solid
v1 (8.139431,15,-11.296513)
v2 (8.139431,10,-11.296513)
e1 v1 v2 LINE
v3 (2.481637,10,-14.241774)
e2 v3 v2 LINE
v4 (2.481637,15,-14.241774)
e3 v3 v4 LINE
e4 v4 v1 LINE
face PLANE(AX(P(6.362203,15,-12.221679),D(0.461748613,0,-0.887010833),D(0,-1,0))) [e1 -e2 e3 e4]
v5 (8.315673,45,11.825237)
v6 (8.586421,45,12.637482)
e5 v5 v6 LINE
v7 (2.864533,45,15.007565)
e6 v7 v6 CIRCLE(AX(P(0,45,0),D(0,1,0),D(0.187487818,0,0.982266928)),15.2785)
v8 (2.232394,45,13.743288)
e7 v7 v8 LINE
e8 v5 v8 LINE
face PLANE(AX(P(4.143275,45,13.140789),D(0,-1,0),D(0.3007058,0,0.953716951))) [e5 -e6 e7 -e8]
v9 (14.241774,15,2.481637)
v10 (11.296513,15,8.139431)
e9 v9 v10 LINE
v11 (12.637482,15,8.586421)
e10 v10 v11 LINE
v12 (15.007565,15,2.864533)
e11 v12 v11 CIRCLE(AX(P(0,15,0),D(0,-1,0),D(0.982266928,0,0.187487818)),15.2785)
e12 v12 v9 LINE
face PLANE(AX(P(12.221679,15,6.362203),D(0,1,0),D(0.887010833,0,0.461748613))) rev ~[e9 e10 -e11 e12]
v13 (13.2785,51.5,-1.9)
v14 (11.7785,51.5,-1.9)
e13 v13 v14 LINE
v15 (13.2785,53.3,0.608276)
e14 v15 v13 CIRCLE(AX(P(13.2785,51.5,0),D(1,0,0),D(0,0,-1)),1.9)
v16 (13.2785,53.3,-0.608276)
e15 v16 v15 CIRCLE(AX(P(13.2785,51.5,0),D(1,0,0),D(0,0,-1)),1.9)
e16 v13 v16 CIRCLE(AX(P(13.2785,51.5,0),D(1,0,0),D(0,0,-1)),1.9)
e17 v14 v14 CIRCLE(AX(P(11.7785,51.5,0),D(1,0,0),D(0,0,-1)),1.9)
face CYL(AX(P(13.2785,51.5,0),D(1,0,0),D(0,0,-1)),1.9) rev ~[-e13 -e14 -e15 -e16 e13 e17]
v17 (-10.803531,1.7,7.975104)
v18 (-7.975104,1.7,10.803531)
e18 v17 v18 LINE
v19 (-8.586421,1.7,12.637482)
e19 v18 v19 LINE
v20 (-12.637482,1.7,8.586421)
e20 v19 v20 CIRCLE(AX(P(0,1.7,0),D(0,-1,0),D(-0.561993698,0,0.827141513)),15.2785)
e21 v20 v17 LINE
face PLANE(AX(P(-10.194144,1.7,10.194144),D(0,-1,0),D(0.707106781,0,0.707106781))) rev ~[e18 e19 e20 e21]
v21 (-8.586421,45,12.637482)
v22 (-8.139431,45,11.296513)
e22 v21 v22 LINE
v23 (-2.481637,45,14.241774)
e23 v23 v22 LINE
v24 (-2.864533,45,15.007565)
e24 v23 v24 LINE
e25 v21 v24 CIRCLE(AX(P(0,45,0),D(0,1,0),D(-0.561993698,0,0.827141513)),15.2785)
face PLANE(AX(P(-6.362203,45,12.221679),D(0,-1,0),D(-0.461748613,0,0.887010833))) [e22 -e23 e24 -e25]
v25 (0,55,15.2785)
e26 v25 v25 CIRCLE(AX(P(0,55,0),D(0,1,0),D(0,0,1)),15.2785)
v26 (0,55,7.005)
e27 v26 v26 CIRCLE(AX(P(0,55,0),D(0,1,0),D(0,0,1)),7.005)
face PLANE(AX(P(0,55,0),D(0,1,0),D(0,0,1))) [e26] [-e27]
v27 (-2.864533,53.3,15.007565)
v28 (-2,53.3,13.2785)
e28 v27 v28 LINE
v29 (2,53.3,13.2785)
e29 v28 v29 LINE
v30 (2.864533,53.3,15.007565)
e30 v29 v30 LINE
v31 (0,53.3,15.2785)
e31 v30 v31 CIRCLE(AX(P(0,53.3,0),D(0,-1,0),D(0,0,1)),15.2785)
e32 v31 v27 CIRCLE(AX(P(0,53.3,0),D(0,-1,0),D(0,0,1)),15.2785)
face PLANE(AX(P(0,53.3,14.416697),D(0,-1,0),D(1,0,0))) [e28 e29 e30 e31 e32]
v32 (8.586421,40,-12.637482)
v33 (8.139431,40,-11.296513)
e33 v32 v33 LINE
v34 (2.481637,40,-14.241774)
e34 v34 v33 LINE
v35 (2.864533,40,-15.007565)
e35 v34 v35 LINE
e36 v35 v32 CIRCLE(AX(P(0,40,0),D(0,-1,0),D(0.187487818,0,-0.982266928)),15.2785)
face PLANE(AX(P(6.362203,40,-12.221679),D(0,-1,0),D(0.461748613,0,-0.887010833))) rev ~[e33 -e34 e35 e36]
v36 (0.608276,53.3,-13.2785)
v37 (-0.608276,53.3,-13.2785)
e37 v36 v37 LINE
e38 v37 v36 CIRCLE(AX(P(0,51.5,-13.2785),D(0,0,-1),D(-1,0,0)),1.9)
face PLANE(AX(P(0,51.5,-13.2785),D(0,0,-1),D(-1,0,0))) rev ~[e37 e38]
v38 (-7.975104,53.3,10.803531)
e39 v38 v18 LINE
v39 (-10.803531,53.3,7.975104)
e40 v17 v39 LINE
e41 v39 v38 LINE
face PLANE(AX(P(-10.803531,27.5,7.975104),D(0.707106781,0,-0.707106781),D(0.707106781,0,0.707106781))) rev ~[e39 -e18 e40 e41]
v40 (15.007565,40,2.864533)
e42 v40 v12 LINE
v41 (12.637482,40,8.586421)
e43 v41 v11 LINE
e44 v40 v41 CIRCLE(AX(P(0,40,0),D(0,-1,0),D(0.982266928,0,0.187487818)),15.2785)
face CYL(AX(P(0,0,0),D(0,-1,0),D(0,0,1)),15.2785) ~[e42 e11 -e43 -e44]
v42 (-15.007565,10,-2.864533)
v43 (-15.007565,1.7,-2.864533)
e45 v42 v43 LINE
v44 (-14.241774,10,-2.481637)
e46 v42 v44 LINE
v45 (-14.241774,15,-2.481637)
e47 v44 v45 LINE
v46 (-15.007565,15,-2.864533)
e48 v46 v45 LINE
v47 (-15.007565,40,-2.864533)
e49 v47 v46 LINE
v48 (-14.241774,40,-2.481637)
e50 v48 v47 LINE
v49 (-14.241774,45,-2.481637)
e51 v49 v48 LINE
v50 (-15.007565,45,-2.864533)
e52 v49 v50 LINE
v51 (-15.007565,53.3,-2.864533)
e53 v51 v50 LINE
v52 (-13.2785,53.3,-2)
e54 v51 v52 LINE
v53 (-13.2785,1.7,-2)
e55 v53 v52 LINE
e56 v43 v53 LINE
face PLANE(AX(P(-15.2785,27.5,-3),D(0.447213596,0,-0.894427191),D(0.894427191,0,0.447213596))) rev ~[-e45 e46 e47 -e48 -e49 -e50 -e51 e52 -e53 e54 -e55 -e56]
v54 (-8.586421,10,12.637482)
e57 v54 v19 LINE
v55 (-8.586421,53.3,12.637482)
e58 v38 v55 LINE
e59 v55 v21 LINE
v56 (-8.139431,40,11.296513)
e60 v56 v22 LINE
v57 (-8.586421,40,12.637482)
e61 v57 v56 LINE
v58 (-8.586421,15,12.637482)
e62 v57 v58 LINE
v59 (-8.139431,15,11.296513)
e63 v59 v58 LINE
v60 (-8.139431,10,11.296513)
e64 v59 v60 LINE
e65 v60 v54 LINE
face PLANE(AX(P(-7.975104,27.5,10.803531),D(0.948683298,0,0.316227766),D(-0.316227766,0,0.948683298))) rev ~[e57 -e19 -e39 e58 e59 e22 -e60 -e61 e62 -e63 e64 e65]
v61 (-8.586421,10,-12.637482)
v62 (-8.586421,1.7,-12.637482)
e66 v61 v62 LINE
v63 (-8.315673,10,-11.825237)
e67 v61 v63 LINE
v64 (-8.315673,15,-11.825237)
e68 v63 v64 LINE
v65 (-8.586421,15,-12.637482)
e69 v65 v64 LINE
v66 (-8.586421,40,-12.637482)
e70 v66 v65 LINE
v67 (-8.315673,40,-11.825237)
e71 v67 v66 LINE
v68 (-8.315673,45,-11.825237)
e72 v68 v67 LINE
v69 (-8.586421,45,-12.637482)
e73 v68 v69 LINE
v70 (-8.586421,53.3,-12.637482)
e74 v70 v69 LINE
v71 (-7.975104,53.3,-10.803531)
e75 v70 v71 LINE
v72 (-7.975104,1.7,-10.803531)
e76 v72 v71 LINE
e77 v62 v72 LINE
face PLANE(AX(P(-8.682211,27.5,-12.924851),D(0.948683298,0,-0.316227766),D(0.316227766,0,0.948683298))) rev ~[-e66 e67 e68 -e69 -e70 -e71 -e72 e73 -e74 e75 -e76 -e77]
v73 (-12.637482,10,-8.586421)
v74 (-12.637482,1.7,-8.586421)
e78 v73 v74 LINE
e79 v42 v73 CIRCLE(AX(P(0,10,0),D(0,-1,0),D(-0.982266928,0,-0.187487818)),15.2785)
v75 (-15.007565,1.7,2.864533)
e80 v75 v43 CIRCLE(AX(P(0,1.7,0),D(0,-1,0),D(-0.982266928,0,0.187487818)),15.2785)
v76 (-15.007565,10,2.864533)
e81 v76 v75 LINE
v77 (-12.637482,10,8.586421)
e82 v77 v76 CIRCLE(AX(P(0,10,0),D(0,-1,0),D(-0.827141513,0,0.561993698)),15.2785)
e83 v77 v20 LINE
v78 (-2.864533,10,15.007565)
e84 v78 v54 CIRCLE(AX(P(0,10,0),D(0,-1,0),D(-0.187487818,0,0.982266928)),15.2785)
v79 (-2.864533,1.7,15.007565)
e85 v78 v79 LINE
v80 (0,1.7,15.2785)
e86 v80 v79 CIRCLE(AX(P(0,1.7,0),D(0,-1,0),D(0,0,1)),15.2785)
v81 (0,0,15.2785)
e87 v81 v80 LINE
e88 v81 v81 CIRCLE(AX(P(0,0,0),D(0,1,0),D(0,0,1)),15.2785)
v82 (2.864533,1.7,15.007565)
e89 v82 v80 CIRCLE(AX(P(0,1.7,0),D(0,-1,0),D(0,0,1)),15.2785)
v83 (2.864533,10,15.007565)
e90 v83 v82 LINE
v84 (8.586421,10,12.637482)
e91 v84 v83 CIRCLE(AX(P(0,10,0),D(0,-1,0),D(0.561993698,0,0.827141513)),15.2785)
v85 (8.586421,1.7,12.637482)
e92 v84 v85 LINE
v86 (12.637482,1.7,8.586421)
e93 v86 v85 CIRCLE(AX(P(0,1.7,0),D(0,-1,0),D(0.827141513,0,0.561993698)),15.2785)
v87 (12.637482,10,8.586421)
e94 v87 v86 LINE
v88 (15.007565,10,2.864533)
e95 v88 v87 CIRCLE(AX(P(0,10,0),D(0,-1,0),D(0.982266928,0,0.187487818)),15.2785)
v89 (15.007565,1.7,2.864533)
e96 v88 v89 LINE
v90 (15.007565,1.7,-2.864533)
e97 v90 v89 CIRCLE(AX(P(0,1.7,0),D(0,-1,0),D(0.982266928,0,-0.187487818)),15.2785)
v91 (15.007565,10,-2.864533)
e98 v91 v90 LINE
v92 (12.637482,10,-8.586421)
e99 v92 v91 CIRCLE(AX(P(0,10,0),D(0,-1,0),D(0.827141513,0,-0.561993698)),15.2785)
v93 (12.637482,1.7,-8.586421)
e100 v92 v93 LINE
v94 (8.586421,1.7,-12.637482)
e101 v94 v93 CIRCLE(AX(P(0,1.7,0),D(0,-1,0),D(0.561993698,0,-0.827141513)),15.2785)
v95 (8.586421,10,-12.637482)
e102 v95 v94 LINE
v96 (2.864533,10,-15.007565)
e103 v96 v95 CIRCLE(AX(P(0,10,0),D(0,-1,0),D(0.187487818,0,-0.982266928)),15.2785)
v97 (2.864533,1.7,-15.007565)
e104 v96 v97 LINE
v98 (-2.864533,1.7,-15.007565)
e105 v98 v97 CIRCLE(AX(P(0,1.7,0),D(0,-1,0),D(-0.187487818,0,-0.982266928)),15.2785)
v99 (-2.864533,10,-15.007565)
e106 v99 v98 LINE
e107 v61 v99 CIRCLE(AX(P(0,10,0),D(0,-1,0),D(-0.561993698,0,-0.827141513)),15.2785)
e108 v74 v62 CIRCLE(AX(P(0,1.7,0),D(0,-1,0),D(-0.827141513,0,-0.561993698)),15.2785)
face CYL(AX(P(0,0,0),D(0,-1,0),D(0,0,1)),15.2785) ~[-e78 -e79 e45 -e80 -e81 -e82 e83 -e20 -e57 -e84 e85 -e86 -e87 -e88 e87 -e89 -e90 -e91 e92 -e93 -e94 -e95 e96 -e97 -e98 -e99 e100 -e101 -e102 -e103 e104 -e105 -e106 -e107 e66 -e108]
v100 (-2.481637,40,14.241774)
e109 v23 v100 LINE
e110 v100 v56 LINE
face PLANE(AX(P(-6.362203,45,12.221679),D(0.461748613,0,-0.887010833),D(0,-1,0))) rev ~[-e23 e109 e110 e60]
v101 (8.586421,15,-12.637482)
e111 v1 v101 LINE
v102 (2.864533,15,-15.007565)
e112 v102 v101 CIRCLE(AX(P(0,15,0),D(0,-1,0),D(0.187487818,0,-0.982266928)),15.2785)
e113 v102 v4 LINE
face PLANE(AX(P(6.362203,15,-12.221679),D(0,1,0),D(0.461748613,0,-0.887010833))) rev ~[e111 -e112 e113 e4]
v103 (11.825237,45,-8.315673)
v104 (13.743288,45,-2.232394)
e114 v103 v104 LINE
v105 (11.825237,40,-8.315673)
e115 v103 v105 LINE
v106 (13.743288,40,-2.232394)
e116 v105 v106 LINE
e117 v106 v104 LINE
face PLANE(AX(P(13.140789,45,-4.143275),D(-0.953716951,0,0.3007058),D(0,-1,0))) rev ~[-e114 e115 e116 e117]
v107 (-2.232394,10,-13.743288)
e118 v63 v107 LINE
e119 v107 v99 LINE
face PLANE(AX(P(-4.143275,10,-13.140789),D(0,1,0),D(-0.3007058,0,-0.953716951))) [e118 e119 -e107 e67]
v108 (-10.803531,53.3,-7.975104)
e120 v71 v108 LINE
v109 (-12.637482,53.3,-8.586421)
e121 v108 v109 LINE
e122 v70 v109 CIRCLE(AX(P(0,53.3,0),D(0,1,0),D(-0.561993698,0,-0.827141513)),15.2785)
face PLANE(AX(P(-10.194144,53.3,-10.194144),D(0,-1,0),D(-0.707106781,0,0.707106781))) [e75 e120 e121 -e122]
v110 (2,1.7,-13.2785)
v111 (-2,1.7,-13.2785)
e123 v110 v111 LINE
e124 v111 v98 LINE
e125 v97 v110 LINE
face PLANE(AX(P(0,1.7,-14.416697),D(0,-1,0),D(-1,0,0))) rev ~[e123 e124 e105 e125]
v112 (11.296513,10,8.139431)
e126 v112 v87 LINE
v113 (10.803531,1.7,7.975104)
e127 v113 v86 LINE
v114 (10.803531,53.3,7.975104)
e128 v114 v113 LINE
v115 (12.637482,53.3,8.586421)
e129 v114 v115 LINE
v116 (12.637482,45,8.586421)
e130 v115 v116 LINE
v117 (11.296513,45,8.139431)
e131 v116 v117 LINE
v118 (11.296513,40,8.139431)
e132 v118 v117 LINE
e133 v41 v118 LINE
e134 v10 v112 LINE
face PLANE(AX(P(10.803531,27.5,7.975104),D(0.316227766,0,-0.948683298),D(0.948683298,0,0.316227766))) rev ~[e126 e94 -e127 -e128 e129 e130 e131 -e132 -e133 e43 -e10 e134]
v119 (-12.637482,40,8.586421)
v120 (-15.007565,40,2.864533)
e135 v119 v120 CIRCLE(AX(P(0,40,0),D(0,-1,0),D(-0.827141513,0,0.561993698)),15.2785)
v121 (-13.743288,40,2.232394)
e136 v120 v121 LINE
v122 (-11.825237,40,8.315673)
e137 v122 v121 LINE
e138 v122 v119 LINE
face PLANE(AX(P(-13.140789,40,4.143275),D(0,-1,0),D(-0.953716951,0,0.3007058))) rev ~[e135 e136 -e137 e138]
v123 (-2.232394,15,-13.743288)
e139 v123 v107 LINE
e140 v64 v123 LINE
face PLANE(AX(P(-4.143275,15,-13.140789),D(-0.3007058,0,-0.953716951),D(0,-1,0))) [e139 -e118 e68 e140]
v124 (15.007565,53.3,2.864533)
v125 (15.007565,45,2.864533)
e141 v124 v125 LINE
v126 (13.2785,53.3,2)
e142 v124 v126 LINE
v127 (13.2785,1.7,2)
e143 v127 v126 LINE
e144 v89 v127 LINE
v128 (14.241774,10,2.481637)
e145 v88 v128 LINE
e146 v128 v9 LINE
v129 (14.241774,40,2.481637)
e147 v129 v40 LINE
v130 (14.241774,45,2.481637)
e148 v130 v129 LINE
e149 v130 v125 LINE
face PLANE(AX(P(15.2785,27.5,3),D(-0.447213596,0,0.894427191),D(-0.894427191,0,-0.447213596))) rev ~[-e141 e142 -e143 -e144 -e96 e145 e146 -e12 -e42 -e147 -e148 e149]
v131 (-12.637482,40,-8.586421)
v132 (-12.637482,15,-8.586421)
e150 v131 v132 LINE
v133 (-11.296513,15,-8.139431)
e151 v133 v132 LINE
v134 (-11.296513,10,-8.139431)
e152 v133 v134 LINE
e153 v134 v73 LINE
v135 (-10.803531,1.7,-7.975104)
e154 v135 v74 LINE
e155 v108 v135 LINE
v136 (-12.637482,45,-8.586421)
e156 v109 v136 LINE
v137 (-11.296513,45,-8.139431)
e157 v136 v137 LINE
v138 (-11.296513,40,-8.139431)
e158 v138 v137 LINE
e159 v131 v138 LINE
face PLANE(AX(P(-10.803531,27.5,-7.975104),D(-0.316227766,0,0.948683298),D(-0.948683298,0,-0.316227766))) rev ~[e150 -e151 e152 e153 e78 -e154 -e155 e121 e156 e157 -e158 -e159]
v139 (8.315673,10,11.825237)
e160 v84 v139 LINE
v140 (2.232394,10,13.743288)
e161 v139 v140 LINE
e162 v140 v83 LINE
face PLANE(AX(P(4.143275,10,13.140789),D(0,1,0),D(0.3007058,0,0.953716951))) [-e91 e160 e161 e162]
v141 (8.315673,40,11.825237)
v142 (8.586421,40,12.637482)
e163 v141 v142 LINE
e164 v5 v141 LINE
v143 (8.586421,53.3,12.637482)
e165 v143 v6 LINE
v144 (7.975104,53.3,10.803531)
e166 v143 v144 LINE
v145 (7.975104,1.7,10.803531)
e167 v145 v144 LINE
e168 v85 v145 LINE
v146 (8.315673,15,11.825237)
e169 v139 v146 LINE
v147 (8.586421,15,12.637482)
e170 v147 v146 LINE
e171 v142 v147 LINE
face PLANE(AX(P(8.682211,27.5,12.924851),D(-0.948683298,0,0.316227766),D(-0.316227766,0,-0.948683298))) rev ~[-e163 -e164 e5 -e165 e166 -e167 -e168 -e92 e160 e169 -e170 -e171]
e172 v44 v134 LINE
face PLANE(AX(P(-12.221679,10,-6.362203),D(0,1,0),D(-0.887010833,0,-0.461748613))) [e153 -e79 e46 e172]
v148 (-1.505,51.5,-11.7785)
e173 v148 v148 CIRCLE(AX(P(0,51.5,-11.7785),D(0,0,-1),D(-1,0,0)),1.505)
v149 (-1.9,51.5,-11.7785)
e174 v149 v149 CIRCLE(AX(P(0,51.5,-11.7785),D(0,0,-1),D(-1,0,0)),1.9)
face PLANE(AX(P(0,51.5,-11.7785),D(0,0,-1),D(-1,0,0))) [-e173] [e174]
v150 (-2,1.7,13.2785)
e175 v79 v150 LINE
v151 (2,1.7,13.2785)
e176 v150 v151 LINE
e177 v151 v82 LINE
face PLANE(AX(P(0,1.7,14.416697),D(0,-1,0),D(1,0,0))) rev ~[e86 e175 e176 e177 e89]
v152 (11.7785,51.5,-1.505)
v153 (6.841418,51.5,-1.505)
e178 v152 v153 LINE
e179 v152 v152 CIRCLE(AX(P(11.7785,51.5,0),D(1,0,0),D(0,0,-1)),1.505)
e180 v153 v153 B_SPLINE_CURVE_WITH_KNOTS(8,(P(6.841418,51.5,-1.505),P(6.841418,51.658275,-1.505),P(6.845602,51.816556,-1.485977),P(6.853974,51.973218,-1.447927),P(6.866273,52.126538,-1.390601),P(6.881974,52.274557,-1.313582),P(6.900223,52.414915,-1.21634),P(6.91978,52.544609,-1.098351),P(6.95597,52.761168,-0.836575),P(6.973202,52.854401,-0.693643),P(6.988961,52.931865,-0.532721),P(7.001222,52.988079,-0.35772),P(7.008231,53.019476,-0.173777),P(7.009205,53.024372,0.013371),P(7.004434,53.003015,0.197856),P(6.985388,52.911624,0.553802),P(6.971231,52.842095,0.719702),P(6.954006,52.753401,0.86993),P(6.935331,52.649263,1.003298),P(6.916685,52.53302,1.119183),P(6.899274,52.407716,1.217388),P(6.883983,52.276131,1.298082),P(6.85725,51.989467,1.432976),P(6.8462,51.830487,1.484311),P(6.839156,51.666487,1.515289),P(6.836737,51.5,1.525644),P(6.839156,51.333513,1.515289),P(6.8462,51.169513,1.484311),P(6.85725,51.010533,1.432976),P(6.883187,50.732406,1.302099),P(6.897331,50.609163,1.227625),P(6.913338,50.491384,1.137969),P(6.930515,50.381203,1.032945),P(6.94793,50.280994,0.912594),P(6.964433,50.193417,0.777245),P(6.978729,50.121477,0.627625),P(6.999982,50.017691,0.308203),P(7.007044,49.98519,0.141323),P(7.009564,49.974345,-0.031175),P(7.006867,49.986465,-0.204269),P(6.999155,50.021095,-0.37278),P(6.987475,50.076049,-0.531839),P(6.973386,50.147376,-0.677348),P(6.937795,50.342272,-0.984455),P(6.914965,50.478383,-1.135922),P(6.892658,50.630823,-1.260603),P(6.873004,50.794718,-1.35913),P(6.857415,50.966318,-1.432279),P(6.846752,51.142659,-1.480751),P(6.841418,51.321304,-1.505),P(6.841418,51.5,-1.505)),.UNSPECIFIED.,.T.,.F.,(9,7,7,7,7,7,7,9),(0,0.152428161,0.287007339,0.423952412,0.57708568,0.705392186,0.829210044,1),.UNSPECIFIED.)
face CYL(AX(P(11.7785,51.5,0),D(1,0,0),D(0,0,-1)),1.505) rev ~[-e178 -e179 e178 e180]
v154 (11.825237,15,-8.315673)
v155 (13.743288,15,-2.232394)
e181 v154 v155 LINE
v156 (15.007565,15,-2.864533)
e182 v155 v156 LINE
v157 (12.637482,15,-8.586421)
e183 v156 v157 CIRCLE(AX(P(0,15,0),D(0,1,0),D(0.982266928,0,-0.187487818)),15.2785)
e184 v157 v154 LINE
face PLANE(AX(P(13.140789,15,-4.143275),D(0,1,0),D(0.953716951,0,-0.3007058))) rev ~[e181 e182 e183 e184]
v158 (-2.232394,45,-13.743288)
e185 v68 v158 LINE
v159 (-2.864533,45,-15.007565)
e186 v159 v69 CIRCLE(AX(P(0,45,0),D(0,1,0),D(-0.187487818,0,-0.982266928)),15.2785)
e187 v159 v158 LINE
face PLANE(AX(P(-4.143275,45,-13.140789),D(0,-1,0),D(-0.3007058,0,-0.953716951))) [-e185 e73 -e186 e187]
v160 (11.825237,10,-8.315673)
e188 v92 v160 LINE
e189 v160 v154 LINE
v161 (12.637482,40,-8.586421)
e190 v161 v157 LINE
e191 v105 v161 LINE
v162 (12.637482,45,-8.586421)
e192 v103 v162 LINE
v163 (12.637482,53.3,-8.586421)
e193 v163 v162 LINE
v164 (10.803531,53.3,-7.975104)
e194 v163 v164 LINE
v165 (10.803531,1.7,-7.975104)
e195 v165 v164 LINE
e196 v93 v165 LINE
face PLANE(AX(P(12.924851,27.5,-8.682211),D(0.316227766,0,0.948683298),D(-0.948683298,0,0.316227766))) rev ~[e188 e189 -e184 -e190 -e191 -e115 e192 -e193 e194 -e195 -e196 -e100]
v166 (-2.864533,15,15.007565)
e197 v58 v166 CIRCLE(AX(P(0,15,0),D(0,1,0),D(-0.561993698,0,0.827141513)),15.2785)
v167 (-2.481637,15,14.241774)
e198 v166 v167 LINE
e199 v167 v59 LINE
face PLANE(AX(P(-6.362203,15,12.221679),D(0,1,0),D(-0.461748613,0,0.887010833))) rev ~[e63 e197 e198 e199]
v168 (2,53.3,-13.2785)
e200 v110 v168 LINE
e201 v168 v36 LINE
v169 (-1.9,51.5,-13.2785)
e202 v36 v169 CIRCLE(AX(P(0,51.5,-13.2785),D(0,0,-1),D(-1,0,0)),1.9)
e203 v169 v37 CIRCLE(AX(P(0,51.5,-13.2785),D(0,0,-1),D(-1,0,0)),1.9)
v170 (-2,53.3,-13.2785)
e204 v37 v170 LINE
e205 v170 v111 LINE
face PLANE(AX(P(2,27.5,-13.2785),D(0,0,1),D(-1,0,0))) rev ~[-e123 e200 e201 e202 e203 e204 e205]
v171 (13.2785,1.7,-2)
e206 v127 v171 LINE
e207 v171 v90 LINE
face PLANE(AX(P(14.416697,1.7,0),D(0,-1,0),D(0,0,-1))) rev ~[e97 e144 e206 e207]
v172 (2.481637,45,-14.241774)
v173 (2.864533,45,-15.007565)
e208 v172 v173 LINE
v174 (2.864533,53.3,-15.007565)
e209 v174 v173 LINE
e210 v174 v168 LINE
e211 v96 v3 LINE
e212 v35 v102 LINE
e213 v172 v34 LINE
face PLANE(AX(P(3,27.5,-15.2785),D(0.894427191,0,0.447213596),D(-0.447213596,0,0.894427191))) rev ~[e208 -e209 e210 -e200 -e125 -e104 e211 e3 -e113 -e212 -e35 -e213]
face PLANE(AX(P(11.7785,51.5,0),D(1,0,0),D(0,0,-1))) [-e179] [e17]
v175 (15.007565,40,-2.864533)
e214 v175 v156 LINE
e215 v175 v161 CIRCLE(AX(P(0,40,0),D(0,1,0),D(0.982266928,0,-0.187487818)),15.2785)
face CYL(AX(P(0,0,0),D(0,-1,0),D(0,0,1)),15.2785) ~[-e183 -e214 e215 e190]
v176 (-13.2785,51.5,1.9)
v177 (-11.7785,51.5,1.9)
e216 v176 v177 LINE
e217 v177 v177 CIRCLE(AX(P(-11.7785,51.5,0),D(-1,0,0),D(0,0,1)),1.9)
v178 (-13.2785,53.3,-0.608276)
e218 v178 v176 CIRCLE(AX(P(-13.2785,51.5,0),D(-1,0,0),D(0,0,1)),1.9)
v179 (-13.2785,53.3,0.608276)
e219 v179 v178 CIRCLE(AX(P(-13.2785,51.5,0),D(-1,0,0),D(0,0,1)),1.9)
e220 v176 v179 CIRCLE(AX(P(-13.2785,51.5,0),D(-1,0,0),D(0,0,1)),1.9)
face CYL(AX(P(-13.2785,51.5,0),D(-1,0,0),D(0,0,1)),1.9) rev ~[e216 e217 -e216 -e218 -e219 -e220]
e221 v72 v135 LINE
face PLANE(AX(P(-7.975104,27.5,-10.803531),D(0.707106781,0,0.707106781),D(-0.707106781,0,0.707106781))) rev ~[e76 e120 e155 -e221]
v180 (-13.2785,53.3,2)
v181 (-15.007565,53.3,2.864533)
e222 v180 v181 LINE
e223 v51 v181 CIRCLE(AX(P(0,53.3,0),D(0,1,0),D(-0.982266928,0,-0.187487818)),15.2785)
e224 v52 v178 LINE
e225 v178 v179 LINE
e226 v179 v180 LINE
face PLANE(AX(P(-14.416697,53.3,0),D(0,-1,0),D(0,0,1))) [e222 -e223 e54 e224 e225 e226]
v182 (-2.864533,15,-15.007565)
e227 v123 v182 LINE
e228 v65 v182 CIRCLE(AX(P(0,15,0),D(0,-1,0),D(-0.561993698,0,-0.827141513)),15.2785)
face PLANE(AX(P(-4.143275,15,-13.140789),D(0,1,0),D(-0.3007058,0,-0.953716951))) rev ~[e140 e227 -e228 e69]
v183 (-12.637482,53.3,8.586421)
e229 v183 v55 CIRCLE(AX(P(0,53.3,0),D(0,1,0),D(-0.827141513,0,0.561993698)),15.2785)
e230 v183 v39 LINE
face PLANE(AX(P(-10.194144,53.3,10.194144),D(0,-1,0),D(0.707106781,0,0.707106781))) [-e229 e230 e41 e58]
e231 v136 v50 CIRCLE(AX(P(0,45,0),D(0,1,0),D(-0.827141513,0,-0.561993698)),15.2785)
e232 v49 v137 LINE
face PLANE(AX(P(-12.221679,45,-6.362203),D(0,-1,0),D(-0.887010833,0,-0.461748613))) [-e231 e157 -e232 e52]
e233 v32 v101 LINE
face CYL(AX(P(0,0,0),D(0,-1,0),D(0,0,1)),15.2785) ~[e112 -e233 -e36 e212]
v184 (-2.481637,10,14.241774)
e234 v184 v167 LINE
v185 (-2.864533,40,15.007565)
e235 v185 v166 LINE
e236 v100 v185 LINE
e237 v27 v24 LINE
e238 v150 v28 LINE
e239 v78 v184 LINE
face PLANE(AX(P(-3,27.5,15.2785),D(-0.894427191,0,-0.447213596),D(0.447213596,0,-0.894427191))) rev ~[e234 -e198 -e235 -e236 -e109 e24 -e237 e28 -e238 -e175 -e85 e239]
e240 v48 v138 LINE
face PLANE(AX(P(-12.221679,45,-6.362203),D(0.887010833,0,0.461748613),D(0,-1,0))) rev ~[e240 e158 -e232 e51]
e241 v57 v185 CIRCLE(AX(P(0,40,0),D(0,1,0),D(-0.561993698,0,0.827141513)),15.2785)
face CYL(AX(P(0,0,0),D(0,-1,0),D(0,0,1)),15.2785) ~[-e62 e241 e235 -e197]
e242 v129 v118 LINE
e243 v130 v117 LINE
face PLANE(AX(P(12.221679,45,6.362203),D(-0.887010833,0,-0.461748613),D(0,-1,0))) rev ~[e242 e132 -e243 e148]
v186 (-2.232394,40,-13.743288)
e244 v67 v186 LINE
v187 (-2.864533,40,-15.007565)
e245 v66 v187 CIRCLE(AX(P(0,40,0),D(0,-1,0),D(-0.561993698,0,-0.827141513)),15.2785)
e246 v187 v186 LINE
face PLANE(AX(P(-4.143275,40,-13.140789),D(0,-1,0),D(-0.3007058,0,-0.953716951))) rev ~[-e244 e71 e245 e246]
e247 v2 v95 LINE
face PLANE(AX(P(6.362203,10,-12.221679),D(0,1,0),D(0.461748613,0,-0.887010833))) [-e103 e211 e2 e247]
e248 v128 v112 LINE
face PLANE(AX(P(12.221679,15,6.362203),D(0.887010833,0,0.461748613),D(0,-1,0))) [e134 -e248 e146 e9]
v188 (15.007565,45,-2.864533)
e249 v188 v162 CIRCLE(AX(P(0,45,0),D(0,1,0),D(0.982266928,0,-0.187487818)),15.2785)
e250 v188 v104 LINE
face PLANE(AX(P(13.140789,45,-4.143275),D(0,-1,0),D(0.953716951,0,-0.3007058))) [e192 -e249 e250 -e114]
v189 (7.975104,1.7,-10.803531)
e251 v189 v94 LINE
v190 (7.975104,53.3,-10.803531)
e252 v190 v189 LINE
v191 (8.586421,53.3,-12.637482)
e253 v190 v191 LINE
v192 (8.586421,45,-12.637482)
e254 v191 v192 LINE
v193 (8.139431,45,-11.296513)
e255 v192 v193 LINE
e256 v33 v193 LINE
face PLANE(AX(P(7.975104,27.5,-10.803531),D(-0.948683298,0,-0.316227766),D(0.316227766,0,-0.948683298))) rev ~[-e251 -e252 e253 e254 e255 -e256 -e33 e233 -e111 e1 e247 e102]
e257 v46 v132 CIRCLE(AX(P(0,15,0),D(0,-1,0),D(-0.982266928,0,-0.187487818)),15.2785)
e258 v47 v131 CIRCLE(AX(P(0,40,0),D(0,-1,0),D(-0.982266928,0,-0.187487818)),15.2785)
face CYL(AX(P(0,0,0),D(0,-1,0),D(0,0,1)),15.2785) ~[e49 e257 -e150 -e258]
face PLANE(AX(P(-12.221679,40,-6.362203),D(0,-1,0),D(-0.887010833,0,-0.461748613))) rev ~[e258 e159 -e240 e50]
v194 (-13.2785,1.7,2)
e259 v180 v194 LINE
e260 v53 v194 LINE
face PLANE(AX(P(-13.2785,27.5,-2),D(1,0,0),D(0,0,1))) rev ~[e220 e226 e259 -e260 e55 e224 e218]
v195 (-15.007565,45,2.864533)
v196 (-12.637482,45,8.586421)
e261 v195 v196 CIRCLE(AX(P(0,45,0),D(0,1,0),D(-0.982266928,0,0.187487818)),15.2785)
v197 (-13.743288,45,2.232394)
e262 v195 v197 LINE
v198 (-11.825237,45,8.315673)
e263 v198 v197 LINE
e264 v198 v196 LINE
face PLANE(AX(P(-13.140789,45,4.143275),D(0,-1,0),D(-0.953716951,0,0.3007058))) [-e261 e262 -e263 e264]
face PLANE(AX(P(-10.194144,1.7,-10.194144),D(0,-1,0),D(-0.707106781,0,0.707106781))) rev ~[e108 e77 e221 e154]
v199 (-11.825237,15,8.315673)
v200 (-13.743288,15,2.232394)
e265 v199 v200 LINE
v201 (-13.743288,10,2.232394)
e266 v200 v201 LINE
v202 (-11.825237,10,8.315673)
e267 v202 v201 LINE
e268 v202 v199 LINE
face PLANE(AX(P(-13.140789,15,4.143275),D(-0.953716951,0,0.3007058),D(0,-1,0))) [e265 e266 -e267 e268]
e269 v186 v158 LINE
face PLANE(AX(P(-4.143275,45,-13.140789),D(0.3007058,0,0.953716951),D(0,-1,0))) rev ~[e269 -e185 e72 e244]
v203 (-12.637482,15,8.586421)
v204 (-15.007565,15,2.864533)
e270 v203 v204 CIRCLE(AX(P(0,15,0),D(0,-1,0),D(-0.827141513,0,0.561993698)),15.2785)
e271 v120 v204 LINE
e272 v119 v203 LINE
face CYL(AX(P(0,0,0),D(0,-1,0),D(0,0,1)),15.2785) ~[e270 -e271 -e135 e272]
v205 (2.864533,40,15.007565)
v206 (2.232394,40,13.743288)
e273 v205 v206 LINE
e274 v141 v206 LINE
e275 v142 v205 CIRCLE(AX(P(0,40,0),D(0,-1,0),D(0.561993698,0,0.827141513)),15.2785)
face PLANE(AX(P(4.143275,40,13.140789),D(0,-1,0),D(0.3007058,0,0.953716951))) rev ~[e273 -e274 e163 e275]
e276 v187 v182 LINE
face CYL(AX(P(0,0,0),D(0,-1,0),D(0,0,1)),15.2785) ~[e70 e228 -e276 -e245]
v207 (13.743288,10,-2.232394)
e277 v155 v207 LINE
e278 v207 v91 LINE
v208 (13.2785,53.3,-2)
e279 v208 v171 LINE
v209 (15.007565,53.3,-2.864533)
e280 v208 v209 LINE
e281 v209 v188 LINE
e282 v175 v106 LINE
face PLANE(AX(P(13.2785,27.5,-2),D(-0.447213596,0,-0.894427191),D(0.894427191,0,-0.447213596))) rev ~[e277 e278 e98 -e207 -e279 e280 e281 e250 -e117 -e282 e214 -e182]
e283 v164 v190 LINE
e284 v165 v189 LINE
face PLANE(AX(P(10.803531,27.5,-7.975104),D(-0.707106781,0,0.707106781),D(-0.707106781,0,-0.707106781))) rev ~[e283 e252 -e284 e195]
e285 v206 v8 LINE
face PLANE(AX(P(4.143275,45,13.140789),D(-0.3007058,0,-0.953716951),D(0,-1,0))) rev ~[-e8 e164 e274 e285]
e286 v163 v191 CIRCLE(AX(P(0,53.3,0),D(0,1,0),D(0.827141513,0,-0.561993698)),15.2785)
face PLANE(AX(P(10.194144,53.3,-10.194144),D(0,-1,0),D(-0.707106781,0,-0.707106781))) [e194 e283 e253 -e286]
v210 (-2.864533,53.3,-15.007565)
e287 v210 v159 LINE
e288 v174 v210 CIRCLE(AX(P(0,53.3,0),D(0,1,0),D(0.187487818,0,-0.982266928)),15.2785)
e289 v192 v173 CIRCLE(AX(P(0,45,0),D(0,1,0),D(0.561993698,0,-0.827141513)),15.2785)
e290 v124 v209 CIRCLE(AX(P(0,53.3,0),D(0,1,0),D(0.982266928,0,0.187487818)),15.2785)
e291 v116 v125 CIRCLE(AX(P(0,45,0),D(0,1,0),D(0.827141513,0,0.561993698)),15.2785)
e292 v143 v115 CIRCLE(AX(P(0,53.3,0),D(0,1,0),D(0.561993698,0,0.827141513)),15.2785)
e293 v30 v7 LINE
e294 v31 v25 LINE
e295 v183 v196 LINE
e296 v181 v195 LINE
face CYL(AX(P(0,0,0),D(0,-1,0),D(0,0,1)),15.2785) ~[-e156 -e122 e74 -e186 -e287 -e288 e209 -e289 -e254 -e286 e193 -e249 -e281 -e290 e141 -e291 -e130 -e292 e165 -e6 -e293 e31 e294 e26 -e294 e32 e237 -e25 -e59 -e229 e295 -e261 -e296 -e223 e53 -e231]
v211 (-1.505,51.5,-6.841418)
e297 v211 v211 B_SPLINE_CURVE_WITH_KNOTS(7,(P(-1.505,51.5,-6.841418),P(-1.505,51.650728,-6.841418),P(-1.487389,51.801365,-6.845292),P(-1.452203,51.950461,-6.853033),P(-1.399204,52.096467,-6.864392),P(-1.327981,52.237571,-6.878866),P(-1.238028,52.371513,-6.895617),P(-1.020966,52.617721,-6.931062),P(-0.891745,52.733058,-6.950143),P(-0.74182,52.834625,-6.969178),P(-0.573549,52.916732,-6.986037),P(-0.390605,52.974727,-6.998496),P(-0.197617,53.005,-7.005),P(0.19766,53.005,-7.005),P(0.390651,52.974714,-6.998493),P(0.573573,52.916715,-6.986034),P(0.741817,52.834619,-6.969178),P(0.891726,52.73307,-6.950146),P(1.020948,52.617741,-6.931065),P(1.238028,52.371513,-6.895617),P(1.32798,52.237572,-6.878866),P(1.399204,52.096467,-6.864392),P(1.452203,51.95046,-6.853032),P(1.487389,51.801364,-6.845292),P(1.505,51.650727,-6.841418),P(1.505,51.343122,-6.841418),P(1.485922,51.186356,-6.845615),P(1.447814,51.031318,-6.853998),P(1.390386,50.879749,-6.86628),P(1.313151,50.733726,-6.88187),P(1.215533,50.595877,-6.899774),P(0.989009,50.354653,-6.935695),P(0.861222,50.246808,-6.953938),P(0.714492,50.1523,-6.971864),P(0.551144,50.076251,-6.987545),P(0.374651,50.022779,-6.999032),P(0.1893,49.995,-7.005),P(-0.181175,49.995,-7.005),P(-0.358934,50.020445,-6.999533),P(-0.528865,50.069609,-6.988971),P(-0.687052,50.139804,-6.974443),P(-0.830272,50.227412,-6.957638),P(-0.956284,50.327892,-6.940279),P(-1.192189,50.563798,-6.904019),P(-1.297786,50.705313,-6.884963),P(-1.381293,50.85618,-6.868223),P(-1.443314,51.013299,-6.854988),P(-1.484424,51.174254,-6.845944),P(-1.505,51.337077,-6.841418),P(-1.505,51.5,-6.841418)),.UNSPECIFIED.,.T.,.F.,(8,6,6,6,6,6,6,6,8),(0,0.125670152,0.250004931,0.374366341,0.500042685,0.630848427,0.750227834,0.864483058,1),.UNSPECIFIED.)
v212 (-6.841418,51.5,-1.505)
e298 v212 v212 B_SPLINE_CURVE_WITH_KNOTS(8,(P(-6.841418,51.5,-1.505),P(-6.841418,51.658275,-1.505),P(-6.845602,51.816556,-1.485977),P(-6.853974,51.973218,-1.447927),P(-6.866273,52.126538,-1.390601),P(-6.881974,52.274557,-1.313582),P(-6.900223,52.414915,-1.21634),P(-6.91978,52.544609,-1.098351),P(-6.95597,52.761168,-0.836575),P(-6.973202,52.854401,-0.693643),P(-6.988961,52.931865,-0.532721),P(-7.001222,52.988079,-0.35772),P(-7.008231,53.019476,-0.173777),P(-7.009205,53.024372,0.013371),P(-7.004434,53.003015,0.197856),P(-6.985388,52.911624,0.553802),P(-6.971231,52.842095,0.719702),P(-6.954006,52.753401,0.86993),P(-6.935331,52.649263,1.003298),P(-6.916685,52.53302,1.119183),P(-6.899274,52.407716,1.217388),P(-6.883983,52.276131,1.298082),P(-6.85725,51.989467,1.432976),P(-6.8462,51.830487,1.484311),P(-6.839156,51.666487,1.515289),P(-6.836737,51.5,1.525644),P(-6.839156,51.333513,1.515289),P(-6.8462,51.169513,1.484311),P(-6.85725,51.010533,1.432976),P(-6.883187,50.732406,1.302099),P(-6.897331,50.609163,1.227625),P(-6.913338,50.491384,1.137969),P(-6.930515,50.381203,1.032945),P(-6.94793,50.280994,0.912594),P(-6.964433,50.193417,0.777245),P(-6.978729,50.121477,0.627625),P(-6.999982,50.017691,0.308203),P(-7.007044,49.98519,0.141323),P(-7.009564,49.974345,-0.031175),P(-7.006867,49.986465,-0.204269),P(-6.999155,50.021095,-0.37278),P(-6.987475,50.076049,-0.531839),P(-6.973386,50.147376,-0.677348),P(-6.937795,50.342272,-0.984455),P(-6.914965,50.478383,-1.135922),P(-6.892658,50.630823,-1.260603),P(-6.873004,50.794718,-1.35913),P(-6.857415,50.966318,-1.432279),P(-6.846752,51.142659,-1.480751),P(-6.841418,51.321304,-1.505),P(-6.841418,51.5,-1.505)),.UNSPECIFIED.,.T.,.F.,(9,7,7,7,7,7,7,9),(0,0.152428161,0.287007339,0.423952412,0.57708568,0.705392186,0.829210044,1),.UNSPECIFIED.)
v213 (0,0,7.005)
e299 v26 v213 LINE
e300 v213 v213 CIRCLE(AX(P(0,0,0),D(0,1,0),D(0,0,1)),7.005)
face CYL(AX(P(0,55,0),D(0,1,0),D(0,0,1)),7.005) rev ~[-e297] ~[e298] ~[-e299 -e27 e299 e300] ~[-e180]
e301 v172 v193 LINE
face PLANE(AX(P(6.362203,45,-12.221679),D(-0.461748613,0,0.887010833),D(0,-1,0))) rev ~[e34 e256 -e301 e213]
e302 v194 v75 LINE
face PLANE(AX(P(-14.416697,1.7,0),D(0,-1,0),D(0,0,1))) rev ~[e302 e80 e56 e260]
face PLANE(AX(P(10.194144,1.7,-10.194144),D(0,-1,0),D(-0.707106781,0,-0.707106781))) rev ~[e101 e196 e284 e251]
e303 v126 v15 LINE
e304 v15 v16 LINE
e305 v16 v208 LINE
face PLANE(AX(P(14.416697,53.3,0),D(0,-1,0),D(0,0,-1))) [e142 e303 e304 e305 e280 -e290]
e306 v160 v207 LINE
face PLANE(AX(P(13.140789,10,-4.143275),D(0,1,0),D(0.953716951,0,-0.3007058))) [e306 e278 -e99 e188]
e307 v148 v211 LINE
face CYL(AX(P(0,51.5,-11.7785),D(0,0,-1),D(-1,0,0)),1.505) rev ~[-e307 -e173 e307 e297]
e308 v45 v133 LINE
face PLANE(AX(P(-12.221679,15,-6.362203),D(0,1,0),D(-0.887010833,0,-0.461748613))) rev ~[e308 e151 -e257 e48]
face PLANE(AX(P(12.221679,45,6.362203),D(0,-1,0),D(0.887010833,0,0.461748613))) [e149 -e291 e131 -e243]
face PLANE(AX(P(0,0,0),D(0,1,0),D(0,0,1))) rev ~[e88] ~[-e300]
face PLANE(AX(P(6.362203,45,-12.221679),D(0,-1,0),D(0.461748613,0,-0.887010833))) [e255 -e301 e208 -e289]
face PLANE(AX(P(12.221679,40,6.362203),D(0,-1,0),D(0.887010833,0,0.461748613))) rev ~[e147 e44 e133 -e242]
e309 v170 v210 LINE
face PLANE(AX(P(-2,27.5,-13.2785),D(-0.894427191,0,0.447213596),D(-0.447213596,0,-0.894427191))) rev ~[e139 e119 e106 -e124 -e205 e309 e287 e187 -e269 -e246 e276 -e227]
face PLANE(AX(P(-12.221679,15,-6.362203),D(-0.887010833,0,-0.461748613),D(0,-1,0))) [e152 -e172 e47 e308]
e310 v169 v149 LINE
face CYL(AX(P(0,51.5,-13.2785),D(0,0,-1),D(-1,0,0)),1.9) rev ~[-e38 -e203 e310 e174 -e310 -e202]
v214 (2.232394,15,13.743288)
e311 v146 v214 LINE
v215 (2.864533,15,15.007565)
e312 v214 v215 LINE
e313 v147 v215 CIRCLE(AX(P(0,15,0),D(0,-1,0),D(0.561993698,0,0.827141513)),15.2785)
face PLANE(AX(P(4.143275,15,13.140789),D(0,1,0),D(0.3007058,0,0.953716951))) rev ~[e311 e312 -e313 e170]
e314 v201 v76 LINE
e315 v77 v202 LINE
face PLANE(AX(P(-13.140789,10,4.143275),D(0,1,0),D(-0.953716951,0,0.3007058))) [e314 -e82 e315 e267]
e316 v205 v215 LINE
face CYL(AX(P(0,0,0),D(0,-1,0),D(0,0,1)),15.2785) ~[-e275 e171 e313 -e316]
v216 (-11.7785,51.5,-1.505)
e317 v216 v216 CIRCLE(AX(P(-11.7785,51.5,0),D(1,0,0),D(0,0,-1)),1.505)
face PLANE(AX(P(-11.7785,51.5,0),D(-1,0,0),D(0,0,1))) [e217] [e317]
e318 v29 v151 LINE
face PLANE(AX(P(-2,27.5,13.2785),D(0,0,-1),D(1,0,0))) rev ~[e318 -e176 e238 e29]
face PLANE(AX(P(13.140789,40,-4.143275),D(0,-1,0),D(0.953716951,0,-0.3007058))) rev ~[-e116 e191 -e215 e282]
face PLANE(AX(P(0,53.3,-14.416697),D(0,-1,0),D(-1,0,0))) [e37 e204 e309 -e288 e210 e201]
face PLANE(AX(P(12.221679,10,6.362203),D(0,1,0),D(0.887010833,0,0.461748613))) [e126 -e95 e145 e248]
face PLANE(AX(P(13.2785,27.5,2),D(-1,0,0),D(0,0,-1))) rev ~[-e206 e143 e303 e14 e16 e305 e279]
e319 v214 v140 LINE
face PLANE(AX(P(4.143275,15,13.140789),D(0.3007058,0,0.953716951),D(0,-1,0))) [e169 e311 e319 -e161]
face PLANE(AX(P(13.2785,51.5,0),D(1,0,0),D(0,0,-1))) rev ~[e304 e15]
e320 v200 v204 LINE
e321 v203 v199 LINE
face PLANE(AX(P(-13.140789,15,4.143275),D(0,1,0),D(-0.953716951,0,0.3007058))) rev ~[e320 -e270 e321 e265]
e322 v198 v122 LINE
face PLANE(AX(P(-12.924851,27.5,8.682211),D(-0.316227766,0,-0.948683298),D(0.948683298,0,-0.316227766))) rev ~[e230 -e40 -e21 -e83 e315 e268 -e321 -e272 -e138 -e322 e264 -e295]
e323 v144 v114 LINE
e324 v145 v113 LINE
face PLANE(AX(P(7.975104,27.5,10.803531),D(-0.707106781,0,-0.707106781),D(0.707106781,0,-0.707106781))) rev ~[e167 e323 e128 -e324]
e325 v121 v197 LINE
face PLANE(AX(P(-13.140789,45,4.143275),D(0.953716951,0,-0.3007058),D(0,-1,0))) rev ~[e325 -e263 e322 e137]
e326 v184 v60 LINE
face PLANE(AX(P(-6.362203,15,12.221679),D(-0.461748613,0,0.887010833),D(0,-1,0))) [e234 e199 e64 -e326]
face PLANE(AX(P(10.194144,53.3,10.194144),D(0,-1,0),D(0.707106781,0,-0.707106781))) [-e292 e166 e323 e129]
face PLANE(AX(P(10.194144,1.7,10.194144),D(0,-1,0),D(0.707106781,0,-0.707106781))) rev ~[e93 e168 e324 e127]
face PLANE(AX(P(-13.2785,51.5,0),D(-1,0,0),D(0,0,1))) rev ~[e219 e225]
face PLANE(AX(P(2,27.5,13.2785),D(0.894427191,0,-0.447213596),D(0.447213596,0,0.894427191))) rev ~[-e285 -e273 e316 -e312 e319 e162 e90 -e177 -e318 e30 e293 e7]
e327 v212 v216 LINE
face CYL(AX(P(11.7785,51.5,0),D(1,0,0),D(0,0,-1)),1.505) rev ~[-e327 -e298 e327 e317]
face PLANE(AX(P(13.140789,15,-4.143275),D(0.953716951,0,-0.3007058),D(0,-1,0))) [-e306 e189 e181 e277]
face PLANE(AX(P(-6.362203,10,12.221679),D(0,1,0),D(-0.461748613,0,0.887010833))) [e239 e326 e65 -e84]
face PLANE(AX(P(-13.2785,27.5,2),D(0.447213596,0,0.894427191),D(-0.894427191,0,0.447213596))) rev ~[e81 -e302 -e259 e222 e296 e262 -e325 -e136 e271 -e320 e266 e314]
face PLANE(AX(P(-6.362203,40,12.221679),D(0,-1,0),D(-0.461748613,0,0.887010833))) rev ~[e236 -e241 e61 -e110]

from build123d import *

# Parameters (mm, degrees)
SKETCH1_R           = 15.2785
BOSS_EXTRUDE1_DEPTH = 55
CUT_EXTRUDE2_DEPTH  = 25.8
CIRPATTERN1_COUNT   = 8
SKETCH5_R           = 7.005
CUT_EXTRUDE3_DEPTH  = 60.092005589
SKETCH7_W           = 5
SKETCH7_H           = 1.5
CUT_EXTRUDE4_DEPTH  = 60.092005589
CIRPATTERN2_COUNT   = 8
SKETCH8_R           = 1.9
CUT_EXTRUDE5_DEPTH  = 1.5
CIRPATTERN3_COUNT   = 2
SKETCH9_R           = 1.9
CUT_EXTRUDE6_DEPTH  = 1.5
SKETCH10_R          = 1.505
CUT_EXTRUDE7_DEPTH  = 64.17051378
SKETCH11_R          = 1.505
CUT_EXTRUDE8_DEPTH  = 8


with BuildPart() as part:
    # Sketch1 → Boss-Extrude1 (new body)
    with BuildSketch(Plane(origin=(0, 0, 0), x_dir=(1, 0, 0), z_dir=(0, 1, 0))):
        with Locations(Location((0, 0, 0), (0, 0, 270))):
            Circle(SKETCH1_R)
        with BuildLine():
            Line((1.91637679, 2.5), (-1.91637679, 2.5))
            ThreePointArc((-1.91637679, 2.5), (0, -3.15), (1.91637679, 2.5))
        make_face(mode=Mode.SUBTRACT)
    extrude(amount=BOSS_EXTRUDE1_DEPTH)

    # Sketch3 → Cut-Extrude2 (cut, symmetric)
    with BuildSketch(Plane(origin=(0, 27.5, 0), x_dir=(-1, 0, 0), z_dir=(0, -1, 0))):
        Polygon((-2, 13.2785), (2, 13.2785), (3, 15.2785), (-3, 15.2785), align=None)
    cut_extrude2 = extrude(amount=CUT_EXTRUDE2_DEPTH, both=True, mode=Mode.SUBTRACT)

    # CirPattern1: Cut-Extrude2 ×8 about axis
    cirpattern1_axis = Axis((0, 0, 0), (0, 1, 0))
    for i in range(1, CIRPATTERN1_COUNT):
        add(cut_extrude2.rotate(cirpattern1_axis, i * 360 / CIRPATTERN1_COUNT), mode=Mode.SUBTRACT)

    # Sketch5 → Cut-Extrude3 (cut, through all)
    with BuildSketch(Plane(origin=(0, 55, 0), x_dir=(1, 0, 0), z_dir=(0, 1, 0))):
        with Locations(Location((0, 0, 0), (0, 0, 270))):
            Circle(SKETCH5_R)
    extrude(amount=-CUT_EXTRUDE3_DEPTH, mode=Mode.SUBTRACT)

    # Sketch7 → Cut-Extrude4 (cut, symmetric)
    with BuildSketch(Plane(origin=(0, 0, 0), x_dir=(0, -1, 0), z_dir=(0.8870108331782212, 0, 0.46174861323503485))):
        with Locations((-12.5, 14.5285)):
            Rectangle(SKETCH7_W, SKETCH7_H)
        with Locations((-42.5, 14.5285)):
            Rectangle(SKETCH7_W, SKETCH7_H)
    cut_extrude4 = extrude(amount=CUT_EXTRUDE4_DEPTH, both=True, mode=Mode.SUBTRACT)

    # CirPattern2: Cut-Extrude4 ×8 about axis
    cirpattern2_axis = Axis((0, 0, 0), (0, 1, 0))
    for i in range(1, CIRPATTERN2_COUNT):
        add(cut_extrude4.rotate(cirpattern2_axis, i * 360 / CIRPATTERN2_COUNT), mode=Mode.SUBTRACT)

    # Sketch8 → Cut-Extrude5 (cut)
    with BuildSketch(Plane(origin=(13.2785, 0, 0), x_dir=(0, 0, -1), z_dir=(1, 0, 0))):
        with Locations((0, 51.5)):
            Circle(SKETCH8_R)
    cut_extrude5 = extrude(amount=-CUT_EXTRUDE5_DEPTH, mode=Mode.SUBTRACT)

    # CirPattern3: Cut-Extrude5 ×2 about axis
    cirpattern3_axis = Axis((0, 119.409259796, 0), (0, -1, 0))
    for i in range(1, CIRPATTERN3_COUNT):
        add(cut_extrude5.rotate(cirpattern3_axis, i * 360 / CIRPATTERN3_COUNT), mode=Mode.SUBTRACT)

    # Sketch9 → Cut-Extrude6 (cut)
    with BuildSketch(Plane(origin=(0, 0, -13.2785), x_dir=(-1, 0, 0), z_dir=(0, 0, -1))):
        with Locations((0, 51.5)):
            Circle(SKETCH9_R)
    extrude(amount=-CUT_EXTRUDE6_DEPTH, mode=Mode.SUBTRACT)

    # Sketch10 → Cut-Extrude7 (cut, through all)
    with BuildSketch(Plane(origin=(11.7785, 0, 0), x_dir=(0, 0, -1), z_dir=(1, 0, 0))):
        with Locations((0, 51.5)):
            Circle(SKETCH10_R)
    extrude(amount=-CUT_EXTRUDE7_DEPTH, mode=Mode.SUBTRACT)

    # Sketch11 → Cut-Extrude8 (cut)
    with BuildSketch(Plane(origin=(0, 0, -11.7785), x_dir=(-1, 0, 0), z_dir=(0, 0, -1))):
        with Locations((0, 51.5)):
            Circle(SKETCH11_R)
    extrude(amount=-CUT_EXTRUDE8_DEPTH, mode=Mode.SUBTRACT)


solid = part.part
